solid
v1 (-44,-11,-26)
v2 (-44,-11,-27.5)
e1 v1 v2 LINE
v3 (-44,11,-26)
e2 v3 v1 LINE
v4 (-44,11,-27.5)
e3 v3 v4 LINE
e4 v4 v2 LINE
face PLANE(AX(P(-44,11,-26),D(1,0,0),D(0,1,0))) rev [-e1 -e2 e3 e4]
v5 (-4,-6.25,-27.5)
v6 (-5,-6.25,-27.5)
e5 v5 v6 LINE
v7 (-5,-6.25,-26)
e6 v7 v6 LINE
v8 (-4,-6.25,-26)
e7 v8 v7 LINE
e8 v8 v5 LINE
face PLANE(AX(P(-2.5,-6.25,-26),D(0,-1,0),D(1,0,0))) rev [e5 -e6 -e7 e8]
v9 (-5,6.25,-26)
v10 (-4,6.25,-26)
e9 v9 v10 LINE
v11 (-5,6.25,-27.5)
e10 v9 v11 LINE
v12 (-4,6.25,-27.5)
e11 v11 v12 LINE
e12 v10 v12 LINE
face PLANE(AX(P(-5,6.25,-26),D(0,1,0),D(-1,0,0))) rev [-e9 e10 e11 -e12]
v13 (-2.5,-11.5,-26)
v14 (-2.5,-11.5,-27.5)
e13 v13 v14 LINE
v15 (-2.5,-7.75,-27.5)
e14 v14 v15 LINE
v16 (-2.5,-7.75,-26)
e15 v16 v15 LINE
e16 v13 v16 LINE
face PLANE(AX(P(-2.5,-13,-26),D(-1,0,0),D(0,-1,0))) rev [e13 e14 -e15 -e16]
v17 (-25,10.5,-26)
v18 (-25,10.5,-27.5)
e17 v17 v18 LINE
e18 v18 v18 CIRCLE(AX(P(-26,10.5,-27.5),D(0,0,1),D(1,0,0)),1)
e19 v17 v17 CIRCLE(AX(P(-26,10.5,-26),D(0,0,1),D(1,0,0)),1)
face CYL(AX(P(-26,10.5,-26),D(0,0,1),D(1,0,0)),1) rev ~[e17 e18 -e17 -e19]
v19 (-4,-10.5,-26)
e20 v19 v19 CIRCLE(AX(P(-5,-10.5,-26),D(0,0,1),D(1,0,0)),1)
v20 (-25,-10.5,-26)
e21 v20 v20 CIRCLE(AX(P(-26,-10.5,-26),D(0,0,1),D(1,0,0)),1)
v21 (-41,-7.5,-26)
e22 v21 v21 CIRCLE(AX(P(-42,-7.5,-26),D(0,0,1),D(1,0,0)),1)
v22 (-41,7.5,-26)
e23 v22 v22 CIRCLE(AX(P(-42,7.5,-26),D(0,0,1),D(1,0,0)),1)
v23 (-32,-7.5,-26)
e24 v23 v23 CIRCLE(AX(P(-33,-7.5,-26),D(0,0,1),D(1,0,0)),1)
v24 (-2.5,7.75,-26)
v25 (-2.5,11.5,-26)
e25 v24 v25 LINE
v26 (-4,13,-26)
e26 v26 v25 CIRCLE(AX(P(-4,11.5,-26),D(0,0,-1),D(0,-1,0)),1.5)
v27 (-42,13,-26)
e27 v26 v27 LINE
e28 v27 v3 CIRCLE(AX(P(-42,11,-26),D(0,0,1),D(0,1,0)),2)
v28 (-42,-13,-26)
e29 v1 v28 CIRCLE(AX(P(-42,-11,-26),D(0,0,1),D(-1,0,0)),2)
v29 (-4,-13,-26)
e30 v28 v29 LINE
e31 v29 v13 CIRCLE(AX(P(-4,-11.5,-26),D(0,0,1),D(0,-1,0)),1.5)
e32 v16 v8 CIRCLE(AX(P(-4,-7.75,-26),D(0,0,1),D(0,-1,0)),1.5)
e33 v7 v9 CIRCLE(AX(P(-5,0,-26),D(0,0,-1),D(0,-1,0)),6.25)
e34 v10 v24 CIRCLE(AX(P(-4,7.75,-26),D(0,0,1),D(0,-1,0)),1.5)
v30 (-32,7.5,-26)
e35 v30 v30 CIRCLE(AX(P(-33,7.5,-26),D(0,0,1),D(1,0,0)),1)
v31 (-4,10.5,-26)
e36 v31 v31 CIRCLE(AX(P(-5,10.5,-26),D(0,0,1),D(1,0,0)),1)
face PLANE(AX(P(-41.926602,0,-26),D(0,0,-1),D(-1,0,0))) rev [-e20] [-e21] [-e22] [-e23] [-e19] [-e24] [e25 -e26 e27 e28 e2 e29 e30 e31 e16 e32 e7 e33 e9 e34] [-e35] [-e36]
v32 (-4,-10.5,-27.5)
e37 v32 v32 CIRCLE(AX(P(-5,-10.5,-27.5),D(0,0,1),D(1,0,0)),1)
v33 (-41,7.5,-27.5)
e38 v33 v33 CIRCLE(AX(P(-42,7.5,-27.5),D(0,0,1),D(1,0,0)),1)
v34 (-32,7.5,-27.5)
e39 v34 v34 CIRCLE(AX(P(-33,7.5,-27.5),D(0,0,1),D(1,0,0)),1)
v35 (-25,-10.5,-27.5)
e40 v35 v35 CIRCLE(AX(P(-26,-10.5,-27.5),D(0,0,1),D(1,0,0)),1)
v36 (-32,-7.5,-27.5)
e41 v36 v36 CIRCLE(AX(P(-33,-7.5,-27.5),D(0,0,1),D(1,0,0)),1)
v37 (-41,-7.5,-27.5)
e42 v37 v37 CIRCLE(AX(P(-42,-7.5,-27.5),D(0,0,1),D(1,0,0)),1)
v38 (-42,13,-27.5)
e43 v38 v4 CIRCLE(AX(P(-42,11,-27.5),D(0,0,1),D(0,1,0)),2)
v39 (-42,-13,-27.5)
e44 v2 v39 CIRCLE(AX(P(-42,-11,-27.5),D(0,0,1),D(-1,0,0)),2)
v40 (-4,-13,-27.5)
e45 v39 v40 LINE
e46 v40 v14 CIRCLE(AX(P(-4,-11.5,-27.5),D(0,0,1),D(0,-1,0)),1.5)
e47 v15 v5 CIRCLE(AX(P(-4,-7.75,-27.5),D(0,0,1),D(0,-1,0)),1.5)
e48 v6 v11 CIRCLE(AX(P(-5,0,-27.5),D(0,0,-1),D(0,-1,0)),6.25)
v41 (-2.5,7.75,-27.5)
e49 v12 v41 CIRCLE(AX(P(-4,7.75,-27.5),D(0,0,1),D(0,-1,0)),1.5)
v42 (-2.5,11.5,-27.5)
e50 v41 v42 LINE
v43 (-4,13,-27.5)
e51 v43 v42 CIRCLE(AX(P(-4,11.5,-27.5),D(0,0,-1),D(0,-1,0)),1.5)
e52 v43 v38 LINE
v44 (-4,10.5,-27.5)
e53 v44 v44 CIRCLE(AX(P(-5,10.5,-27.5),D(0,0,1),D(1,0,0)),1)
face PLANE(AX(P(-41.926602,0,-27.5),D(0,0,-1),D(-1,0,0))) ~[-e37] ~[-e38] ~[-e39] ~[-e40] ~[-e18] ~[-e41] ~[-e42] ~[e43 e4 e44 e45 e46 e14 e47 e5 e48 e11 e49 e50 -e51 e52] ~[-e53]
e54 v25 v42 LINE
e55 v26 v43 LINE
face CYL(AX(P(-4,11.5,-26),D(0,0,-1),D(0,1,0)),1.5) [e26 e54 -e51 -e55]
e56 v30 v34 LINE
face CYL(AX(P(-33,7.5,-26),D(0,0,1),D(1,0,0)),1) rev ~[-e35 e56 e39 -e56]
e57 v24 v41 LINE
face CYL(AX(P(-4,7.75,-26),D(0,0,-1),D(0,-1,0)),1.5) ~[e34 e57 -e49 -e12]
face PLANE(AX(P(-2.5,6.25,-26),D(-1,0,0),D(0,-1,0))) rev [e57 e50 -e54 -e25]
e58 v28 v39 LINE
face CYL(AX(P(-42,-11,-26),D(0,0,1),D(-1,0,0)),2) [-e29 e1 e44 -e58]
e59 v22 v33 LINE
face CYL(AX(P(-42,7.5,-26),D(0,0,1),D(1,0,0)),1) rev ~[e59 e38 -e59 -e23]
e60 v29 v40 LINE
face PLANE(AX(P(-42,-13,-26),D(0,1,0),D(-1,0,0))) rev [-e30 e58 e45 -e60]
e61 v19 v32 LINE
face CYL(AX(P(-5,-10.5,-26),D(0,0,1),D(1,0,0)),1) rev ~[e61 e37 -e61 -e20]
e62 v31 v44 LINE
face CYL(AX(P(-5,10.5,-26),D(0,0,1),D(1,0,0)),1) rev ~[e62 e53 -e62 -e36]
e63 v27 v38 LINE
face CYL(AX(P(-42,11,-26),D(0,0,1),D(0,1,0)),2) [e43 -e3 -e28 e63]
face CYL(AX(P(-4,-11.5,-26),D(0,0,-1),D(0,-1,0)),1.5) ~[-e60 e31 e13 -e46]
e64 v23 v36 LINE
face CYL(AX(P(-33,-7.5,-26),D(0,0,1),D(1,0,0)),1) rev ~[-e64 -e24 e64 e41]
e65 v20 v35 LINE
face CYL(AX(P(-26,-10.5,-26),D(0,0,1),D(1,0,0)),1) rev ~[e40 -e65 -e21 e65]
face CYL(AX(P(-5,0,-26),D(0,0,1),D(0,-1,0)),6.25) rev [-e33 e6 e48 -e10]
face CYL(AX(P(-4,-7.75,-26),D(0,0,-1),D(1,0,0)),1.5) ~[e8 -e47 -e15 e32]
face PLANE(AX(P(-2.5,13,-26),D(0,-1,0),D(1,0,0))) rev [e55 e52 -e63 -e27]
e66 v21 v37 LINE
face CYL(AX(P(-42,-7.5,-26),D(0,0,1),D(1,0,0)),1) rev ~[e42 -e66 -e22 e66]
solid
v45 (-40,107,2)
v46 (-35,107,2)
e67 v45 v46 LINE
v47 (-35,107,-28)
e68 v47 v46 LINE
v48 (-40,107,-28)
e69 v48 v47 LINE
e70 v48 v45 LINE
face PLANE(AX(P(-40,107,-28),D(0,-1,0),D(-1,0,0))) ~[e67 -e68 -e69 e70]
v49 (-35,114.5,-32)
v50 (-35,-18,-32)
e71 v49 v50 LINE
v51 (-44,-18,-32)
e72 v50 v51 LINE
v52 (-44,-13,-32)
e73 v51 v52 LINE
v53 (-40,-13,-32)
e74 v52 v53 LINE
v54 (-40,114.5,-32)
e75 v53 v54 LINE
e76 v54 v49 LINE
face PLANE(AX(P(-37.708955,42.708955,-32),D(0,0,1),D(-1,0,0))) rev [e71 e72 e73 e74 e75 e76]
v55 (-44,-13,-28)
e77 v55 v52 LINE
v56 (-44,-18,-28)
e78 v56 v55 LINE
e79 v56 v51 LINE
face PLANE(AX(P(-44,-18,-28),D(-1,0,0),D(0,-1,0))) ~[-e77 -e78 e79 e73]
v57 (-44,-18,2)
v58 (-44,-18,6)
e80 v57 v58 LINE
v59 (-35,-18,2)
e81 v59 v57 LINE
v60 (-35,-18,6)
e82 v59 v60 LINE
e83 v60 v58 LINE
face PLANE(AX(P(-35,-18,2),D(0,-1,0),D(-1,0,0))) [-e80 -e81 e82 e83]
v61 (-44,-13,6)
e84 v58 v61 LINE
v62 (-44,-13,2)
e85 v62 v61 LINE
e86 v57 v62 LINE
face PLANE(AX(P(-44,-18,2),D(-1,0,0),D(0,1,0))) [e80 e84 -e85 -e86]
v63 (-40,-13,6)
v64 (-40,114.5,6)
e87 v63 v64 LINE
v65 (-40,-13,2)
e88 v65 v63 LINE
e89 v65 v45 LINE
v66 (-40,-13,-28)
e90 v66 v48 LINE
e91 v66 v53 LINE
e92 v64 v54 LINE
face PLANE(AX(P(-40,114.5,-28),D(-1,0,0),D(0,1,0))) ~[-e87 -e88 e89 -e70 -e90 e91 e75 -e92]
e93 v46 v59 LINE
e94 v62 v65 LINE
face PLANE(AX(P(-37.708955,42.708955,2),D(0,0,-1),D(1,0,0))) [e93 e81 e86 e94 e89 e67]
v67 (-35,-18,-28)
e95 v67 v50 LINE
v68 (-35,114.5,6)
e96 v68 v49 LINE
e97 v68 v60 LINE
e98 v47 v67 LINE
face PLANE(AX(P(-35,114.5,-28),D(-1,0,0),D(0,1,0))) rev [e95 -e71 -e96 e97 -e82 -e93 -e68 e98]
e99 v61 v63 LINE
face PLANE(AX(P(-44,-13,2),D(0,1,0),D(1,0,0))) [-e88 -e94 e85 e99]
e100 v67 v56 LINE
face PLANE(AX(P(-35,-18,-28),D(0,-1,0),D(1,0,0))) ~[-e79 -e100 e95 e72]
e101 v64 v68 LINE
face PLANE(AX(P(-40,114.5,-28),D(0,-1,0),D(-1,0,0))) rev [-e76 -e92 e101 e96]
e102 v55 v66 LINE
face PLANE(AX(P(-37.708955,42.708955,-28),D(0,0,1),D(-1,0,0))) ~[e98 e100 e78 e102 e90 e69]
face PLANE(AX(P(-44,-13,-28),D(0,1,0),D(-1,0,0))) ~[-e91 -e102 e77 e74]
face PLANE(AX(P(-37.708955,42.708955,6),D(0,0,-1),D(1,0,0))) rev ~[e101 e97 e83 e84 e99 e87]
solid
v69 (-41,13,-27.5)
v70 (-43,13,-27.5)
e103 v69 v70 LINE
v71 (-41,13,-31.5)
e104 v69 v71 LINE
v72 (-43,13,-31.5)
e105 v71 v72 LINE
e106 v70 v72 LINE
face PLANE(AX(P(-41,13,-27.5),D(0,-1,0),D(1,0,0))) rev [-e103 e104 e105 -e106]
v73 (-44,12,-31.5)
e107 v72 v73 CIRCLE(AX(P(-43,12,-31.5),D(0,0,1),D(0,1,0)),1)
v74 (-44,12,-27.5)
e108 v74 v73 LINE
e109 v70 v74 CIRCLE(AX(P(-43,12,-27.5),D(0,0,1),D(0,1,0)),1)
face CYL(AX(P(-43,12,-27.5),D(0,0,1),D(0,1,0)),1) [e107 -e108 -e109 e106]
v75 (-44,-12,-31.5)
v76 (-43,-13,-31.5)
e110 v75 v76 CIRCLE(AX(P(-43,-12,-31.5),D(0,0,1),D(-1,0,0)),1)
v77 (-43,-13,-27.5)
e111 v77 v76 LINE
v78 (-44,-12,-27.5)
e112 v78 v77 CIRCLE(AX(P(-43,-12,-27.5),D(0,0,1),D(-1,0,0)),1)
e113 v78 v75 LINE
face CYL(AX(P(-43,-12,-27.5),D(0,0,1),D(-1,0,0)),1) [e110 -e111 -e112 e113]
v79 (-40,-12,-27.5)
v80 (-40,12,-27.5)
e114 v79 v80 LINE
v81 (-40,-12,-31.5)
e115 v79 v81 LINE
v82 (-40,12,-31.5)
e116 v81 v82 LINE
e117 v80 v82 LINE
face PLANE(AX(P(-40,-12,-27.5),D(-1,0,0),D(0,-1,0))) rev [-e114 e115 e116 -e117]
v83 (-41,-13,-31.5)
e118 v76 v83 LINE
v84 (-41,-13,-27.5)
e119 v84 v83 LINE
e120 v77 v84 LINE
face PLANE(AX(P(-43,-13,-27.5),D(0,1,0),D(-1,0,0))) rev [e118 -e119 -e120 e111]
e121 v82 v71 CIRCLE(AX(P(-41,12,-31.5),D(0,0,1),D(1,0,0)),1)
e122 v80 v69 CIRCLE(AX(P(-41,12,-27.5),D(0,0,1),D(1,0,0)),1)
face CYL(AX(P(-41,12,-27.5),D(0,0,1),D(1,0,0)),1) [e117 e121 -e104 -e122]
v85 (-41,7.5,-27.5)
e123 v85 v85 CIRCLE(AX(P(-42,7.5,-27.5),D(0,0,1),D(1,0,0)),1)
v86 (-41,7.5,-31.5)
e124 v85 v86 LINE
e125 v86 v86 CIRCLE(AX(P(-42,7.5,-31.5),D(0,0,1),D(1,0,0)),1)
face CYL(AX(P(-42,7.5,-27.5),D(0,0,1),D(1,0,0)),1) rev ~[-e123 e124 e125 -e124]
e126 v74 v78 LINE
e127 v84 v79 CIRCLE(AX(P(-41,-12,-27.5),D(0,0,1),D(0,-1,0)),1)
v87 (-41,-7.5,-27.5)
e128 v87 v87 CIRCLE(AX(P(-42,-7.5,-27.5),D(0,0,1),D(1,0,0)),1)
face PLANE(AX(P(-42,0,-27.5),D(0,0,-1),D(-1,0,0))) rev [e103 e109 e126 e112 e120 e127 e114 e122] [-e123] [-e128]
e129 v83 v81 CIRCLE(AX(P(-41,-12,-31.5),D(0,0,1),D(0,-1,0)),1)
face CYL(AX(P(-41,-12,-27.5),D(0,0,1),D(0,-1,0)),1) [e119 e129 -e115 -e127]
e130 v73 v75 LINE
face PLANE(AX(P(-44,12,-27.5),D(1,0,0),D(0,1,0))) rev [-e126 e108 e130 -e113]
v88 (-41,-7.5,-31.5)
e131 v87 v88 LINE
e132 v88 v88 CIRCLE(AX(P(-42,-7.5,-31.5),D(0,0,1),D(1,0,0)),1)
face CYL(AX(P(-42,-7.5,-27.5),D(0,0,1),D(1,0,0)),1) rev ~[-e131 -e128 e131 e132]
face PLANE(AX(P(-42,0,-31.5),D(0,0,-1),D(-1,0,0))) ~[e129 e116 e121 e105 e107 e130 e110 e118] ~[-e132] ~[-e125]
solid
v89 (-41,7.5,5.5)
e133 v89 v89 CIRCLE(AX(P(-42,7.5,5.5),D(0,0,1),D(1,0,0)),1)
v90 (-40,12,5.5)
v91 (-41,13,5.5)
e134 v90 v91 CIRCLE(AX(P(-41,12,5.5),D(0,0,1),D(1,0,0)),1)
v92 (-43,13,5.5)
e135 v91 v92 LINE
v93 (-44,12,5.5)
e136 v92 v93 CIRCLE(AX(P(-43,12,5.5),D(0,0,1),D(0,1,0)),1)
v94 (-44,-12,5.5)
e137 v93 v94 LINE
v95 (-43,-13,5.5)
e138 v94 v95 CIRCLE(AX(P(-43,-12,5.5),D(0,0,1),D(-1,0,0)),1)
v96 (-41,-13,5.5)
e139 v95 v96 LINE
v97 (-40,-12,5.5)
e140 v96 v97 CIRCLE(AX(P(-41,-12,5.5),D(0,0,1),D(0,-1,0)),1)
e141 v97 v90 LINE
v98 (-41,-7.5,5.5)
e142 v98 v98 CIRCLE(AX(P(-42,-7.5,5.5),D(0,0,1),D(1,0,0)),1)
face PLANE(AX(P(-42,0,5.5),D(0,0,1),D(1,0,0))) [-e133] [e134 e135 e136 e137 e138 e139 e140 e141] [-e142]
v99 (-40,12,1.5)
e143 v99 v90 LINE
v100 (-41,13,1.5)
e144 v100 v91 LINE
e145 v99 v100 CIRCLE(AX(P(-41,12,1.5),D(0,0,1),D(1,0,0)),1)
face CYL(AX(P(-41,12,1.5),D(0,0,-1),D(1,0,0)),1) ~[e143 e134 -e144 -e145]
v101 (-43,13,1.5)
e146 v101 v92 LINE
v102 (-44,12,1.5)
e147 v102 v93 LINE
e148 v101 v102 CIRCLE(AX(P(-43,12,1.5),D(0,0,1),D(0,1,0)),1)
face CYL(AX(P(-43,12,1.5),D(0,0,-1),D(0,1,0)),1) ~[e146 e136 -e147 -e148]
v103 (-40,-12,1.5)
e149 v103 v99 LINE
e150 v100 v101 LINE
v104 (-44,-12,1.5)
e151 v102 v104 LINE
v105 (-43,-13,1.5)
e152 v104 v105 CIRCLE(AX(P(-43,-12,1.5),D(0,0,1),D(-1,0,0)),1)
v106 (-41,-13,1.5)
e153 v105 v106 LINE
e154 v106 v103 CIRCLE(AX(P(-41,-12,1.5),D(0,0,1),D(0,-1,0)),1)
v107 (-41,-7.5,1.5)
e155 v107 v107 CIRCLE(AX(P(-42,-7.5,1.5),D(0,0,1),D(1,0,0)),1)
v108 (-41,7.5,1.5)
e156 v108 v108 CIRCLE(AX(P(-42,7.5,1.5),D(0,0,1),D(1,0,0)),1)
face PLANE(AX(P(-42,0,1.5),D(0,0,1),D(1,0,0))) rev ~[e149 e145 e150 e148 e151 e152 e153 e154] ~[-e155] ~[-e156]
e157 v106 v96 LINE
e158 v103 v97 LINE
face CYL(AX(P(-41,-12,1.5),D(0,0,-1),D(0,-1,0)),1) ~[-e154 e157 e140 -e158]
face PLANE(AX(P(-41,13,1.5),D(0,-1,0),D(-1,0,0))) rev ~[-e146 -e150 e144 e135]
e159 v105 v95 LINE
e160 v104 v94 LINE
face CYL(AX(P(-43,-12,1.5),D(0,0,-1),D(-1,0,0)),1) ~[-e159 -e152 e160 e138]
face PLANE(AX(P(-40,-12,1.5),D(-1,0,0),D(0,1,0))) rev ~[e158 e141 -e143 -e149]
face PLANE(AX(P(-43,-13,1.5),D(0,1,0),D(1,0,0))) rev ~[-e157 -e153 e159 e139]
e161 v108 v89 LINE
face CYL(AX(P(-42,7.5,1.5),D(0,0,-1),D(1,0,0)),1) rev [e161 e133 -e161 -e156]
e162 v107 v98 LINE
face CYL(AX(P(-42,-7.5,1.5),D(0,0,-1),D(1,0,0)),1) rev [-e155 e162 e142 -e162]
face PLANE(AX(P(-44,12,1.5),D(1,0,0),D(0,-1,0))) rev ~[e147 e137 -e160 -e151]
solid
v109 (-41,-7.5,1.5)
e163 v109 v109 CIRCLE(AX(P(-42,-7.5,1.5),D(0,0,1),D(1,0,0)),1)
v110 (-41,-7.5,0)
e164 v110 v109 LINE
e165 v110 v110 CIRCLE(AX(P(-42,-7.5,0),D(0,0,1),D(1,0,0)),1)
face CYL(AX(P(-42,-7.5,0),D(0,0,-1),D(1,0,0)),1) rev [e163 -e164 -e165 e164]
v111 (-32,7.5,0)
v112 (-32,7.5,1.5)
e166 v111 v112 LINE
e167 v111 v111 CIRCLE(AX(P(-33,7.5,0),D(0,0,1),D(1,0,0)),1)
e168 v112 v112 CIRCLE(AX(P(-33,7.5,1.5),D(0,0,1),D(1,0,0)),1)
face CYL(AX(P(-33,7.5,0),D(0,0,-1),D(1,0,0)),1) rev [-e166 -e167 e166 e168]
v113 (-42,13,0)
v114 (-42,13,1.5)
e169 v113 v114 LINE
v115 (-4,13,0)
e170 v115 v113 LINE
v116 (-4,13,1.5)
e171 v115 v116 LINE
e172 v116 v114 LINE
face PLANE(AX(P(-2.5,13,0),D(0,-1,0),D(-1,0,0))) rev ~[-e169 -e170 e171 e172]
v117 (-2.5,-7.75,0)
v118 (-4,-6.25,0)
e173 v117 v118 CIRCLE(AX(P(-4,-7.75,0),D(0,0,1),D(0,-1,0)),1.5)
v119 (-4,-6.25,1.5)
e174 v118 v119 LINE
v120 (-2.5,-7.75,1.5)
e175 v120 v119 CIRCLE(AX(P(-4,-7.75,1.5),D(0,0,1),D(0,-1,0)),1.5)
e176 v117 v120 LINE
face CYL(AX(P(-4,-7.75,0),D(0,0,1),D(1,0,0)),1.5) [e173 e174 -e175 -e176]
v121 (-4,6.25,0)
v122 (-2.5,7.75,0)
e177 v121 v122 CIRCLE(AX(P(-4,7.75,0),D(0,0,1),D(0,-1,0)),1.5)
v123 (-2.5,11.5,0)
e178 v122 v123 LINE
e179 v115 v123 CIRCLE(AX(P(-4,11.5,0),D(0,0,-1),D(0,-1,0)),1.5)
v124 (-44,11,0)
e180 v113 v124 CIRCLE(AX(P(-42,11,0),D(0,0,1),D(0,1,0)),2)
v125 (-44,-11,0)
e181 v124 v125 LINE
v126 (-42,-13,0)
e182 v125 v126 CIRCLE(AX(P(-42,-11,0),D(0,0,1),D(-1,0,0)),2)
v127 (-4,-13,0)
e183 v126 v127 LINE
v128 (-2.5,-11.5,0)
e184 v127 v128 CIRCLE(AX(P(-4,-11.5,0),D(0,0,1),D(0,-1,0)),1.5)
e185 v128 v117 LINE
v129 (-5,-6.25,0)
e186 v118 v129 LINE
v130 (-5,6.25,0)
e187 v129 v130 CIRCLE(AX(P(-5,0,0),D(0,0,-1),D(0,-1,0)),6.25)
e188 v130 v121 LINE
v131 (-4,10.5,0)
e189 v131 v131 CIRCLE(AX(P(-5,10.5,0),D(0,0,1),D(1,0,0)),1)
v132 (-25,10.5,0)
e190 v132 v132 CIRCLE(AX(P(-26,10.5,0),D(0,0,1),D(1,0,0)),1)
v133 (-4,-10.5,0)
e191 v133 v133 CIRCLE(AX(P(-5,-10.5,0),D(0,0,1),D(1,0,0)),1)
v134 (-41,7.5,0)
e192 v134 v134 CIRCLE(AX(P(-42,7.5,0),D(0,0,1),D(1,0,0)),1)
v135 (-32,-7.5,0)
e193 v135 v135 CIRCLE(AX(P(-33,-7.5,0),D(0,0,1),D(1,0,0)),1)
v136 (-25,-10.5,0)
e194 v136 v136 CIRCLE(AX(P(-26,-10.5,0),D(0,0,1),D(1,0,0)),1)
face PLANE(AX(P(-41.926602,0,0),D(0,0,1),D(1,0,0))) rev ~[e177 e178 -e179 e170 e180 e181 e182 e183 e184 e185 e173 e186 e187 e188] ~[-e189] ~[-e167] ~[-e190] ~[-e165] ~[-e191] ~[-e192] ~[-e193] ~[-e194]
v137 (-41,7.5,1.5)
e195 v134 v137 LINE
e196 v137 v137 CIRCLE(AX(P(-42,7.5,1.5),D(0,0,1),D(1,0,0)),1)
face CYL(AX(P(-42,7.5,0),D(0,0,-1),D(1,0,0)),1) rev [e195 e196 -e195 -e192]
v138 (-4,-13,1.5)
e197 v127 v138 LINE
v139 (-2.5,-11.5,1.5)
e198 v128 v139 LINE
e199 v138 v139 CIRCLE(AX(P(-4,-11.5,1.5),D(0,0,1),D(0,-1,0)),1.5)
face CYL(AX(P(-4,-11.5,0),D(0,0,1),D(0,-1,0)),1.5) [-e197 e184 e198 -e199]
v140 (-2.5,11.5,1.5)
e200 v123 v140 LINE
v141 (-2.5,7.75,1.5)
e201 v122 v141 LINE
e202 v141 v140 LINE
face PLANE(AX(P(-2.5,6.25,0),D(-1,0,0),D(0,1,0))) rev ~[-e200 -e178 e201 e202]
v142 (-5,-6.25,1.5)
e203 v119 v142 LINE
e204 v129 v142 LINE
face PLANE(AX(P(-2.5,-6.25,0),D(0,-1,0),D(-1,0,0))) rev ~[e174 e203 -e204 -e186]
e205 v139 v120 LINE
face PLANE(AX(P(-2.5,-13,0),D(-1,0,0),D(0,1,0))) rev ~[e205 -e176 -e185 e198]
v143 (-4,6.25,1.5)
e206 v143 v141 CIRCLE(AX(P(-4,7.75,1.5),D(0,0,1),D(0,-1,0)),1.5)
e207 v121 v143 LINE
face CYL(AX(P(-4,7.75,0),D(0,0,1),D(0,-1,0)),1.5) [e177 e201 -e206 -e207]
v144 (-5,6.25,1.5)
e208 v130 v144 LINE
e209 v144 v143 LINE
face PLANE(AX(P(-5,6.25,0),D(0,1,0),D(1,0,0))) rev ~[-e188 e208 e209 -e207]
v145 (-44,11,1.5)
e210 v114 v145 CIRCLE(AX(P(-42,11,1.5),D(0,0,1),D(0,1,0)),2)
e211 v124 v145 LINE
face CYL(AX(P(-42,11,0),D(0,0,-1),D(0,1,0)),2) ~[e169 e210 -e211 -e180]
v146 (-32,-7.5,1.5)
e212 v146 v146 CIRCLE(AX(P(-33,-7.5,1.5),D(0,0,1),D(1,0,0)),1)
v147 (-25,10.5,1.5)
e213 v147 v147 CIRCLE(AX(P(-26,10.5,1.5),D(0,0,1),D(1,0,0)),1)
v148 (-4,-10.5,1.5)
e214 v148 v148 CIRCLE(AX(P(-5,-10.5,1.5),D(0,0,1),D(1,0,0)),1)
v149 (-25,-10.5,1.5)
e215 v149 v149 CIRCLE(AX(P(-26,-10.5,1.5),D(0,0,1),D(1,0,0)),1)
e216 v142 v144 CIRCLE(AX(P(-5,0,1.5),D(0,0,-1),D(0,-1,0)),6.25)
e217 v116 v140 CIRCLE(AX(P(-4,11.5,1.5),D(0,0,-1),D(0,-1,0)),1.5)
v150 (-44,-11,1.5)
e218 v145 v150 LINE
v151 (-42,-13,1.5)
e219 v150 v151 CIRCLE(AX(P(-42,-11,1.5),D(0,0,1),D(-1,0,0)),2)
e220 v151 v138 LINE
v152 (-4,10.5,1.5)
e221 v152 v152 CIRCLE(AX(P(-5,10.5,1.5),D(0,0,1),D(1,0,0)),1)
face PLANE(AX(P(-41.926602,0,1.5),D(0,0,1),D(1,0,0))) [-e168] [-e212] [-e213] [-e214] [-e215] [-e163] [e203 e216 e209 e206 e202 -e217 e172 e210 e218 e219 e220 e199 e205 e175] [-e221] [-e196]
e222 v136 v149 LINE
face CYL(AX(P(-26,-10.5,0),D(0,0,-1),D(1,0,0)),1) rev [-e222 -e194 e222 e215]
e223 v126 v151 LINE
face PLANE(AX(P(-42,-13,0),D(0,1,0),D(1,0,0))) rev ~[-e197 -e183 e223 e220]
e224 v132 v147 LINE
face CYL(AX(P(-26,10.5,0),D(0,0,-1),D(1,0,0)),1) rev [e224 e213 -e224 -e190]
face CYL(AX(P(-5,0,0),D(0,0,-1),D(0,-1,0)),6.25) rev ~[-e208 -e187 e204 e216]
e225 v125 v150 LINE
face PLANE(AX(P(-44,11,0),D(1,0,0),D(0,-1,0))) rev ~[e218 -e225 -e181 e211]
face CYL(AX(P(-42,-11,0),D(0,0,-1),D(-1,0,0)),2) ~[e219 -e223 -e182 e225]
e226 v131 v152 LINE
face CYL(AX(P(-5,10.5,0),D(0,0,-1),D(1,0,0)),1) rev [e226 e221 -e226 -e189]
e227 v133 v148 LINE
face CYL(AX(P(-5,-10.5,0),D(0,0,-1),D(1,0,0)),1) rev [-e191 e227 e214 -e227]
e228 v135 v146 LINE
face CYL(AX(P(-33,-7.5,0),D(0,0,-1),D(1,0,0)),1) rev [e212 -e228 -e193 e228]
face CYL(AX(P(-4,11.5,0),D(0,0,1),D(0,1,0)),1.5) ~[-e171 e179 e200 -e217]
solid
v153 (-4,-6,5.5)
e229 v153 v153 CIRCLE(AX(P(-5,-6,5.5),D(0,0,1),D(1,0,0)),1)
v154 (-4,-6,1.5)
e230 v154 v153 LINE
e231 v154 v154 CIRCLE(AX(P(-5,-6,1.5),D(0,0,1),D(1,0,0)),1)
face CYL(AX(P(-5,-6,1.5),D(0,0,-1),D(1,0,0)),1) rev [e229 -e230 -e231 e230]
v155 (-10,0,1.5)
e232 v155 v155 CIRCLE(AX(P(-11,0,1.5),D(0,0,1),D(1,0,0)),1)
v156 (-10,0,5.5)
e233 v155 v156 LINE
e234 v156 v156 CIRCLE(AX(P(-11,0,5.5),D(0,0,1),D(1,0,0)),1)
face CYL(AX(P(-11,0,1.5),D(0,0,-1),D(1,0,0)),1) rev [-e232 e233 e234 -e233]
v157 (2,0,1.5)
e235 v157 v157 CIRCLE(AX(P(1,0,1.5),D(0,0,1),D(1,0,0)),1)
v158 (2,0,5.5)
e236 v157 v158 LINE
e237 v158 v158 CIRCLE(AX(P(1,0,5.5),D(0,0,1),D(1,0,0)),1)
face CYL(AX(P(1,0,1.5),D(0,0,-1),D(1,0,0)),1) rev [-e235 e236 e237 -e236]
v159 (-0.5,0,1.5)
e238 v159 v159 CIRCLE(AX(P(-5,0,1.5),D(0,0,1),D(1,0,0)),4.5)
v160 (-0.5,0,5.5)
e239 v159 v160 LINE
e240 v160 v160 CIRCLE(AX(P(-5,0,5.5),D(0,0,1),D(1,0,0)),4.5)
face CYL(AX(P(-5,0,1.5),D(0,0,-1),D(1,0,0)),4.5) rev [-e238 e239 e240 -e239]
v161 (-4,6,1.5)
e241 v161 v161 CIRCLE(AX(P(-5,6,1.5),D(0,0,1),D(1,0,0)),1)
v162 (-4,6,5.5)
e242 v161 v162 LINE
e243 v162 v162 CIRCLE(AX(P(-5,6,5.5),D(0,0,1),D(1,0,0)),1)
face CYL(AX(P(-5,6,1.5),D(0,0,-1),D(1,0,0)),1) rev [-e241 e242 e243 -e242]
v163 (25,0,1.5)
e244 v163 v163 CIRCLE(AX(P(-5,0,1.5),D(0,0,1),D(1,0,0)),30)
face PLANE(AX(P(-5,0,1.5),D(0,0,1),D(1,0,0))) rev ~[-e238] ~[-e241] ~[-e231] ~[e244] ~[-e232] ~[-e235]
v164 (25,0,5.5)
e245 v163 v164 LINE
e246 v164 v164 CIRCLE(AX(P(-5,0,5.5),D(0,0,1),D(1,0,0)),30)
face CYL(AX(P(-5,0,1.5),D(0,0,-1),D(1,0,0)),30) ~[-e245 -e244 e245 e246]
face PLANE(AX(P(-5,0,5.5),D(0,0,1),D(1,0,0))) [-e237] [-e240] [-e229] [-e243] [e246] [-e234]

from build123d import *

# Parameters (mm, degrees)
F0_R      = 1
F1_DEPTH  = 1.5
F2_R      = 30
F2_R_2    = 1
F2_R_3    = 4.5
F3_DEPTH  = 4
F4_R      = 1.5
F8_W      = 5
F8_H      = 7.5
F9_DEPTH  = 4
F10_DEPTH = 15


with BuildPart() as f1:
    # F0 (on Top) → F1 (new body)
    with BuildSketch(Plane.XY):
        with BuildLine():
            Line((-40, -13), (-40, 13))
            Line((-40, 13), (-42, 13))
            ThreePointArc((-42, 13), (-43.4142135624, 12.4142135624), (-44, 11))
            Line((-44, 11), (-44, -11))
            ThreePointArc((-44, -11), (-43.4142135624, -12.4142135624), (-42, -13))
            Line((-42, -13), (-40, -13))
        make_face()
        with Locations((-42, -7.5)):
            Circle(F0_R, mode=Mode.SUBTRACT)
        with Locations((-42, 7.5)):
            Circle(F0_R, mode=Mode.SUBTRACT)
        with BuildLine():
            Line((-2.5, 6.25), (-2.5, 13))
            Line((-2.5, 13), (-7.5, 13))
            Line((-7.5, 13), (-40, 13))
            Line((-40, 13), (-40, -13))
            Line((-40, -13), (-7.5, -13))
            Line((-7.5, -13), (-2.5, -13))
            Line((-2.5, -13), (-2.5, -6.25))
            Line((-2.5, -6.25), (-5, -6.25))
            ThreePointArc((-5, -6.25), (-11.25, 0), (-5, 6.25))
            Line((-5, 6.25), (-2.5, 6.25))
        make_face()
        with Locations((-26, -10.5)):
            Circle(F0_R, mode=Mode.SUBTRACT)
        with Locations((-33, -7.5)):
            Circle(F0_R, mode=Mode.SUBTRACT)
        with Locations((-5, -10.5)):
            Circle(F0_R, mode=Mode.SUBTRACT)
        with Locations((-33, 7.5)):
            Circle(F0_R, mode=Mode.SUBTRACT)
        with Locations((-26, 10.5)):
            Circle(F0_R, mode=Mode.SUBTRACT)
        with Locations((-5, 10.5)):
            Circle(F0_R, mode=Mode.SUBTRACT)
    extrude(amount=F1_DEPTH)

    # F4
    f4_edges = [f1.edges().sort_by_distance(p)[0] for p in [
        (-2.5, -13, 0.75),
        (-2.5, -6.25, 0.75),
        (-2.5, 6.25, 0.75),
        (-2.5, 13, 0.75),
    ]]
    fillet(f4_edges, radius=F4_R)


with BuildPart() as f3:
    # F2 (on face) → F3 (new body)
    with BuildSketch(Plane.XY.offset(1.5)):
        with Locations((-5, 0)):
            Circle(F2_R)
        with Locations((-5, -6)):
            Circle(F2_R_2, mode=Mode.SUBTRACT)
        with Locations((-11, 0)):
            Circle(F2_R_2, mode=Mode.SUBTRACT)
        with Locations((-5, 0)):
            Circle(F2_R_3, mode=Mode.SUBTRACT)
        with Locations((-5, 6)):
            Circle(F2_R_2, mode=Mode.SUBTRACT)
        with Locations((1, 0)):
            Circle(F2_R_2, mode=Mode.SUBTRACT)
    extrude(amount=F3_DEPTH)


with BuildPart() as f3b:
    # F2 (on face) → F3, piece 2 (new body)
    with BuildSketch(Plane.XY.offset(1.5)):
        with BuildLine():
            Line((-41, 13), (-43, 13))
            ThreePointArc((-43, 13), (-43.7071067812, 12.7071067812), (-44, 12))
            Line((-44, 12), (-44, -12))
            ThreePointArc((-44, -12), (-43.7071067812, -12.7071067812), (-43, -13))
            Line((-43, -13), (-41, -13))
            ThreePointArc((-41, -13), (-40.2928932188, -12.7071067812), (-40, -12))
            Line((-40, -12), (-40, 12))
            ThreePointArc((-40, 12), (-40.2928932188, 12.7071067812), (-41, 13))
        make_face()
        with Locations((-42, -7.5)):
            Circle(F2_R_2, mode=Mode.SUBTRACT)
        with Locations((-42, 7.5)):
            Circle(F2_R_2, mode=Mode.SUBTRACT)
    extrude(amount=F3_DEPTH)


with BuildPart() as f3_1:
    # F5: moved
    add(f3.part.moved(Location((0, 0, 0.5))))


with BuildPart() as f7_1:
    # F7: instance of F1
    add(f1.part.mirror(Plane(origin=(-24.8052388684, 0, -13), x_dir=(1, 0, 0), z_dir=(0, 0, -1))))


with BuildPart() as f7_2:
    # F7: instance of F3b
    add(f3b.part.mirror(Plane(origin=(-24.8052388684, 0, -13), x_dir=(1, 0, 0), z_dir=(0, 0, -1))))


with BuildPart() as f9:
    # F8 (on face) → F9 (new body)
    with BuildSketch(Plane(origin=(0, 0, 2), x_dir=(1, 0, 0), z_dir=(0, 0, -1))):
        Polygon((-35, 18), (-40, 18), (-44, 18), (-44, 13), (-40, 13), (-40, -107), (-35, -107), align=None)
        with Locations((-37.5, -110.75)):
            Rectangle(F8_W, F8_H)
    extrude(amount=-F9_DEPTH)

    # F8 (on face) → F10 (join, through all)
    with BuildSketch(Plane(origin=(0, 0, 2), x_dir=(1, 0, 0), z_dir=(0, 0, -1))):
        with Locations((-37.5, -110.75)):
            Rectangle(F8_W, F8_H)
    extrude(amount=F10_DEPTH)

    # F11: F9 across plane


with BuildPart() as f9_1:
    add(f9.part)
    add(f9.part.mirror(Plane(origin=(-24.8052388684, 0, -13), x_dir=(1, 0, 0), z_dir=(0, 0, -1))))


solid = Compound([f1.part, f3b.part, f3_1.part, f7_1.part, f7_2.part, f9_1.part])
